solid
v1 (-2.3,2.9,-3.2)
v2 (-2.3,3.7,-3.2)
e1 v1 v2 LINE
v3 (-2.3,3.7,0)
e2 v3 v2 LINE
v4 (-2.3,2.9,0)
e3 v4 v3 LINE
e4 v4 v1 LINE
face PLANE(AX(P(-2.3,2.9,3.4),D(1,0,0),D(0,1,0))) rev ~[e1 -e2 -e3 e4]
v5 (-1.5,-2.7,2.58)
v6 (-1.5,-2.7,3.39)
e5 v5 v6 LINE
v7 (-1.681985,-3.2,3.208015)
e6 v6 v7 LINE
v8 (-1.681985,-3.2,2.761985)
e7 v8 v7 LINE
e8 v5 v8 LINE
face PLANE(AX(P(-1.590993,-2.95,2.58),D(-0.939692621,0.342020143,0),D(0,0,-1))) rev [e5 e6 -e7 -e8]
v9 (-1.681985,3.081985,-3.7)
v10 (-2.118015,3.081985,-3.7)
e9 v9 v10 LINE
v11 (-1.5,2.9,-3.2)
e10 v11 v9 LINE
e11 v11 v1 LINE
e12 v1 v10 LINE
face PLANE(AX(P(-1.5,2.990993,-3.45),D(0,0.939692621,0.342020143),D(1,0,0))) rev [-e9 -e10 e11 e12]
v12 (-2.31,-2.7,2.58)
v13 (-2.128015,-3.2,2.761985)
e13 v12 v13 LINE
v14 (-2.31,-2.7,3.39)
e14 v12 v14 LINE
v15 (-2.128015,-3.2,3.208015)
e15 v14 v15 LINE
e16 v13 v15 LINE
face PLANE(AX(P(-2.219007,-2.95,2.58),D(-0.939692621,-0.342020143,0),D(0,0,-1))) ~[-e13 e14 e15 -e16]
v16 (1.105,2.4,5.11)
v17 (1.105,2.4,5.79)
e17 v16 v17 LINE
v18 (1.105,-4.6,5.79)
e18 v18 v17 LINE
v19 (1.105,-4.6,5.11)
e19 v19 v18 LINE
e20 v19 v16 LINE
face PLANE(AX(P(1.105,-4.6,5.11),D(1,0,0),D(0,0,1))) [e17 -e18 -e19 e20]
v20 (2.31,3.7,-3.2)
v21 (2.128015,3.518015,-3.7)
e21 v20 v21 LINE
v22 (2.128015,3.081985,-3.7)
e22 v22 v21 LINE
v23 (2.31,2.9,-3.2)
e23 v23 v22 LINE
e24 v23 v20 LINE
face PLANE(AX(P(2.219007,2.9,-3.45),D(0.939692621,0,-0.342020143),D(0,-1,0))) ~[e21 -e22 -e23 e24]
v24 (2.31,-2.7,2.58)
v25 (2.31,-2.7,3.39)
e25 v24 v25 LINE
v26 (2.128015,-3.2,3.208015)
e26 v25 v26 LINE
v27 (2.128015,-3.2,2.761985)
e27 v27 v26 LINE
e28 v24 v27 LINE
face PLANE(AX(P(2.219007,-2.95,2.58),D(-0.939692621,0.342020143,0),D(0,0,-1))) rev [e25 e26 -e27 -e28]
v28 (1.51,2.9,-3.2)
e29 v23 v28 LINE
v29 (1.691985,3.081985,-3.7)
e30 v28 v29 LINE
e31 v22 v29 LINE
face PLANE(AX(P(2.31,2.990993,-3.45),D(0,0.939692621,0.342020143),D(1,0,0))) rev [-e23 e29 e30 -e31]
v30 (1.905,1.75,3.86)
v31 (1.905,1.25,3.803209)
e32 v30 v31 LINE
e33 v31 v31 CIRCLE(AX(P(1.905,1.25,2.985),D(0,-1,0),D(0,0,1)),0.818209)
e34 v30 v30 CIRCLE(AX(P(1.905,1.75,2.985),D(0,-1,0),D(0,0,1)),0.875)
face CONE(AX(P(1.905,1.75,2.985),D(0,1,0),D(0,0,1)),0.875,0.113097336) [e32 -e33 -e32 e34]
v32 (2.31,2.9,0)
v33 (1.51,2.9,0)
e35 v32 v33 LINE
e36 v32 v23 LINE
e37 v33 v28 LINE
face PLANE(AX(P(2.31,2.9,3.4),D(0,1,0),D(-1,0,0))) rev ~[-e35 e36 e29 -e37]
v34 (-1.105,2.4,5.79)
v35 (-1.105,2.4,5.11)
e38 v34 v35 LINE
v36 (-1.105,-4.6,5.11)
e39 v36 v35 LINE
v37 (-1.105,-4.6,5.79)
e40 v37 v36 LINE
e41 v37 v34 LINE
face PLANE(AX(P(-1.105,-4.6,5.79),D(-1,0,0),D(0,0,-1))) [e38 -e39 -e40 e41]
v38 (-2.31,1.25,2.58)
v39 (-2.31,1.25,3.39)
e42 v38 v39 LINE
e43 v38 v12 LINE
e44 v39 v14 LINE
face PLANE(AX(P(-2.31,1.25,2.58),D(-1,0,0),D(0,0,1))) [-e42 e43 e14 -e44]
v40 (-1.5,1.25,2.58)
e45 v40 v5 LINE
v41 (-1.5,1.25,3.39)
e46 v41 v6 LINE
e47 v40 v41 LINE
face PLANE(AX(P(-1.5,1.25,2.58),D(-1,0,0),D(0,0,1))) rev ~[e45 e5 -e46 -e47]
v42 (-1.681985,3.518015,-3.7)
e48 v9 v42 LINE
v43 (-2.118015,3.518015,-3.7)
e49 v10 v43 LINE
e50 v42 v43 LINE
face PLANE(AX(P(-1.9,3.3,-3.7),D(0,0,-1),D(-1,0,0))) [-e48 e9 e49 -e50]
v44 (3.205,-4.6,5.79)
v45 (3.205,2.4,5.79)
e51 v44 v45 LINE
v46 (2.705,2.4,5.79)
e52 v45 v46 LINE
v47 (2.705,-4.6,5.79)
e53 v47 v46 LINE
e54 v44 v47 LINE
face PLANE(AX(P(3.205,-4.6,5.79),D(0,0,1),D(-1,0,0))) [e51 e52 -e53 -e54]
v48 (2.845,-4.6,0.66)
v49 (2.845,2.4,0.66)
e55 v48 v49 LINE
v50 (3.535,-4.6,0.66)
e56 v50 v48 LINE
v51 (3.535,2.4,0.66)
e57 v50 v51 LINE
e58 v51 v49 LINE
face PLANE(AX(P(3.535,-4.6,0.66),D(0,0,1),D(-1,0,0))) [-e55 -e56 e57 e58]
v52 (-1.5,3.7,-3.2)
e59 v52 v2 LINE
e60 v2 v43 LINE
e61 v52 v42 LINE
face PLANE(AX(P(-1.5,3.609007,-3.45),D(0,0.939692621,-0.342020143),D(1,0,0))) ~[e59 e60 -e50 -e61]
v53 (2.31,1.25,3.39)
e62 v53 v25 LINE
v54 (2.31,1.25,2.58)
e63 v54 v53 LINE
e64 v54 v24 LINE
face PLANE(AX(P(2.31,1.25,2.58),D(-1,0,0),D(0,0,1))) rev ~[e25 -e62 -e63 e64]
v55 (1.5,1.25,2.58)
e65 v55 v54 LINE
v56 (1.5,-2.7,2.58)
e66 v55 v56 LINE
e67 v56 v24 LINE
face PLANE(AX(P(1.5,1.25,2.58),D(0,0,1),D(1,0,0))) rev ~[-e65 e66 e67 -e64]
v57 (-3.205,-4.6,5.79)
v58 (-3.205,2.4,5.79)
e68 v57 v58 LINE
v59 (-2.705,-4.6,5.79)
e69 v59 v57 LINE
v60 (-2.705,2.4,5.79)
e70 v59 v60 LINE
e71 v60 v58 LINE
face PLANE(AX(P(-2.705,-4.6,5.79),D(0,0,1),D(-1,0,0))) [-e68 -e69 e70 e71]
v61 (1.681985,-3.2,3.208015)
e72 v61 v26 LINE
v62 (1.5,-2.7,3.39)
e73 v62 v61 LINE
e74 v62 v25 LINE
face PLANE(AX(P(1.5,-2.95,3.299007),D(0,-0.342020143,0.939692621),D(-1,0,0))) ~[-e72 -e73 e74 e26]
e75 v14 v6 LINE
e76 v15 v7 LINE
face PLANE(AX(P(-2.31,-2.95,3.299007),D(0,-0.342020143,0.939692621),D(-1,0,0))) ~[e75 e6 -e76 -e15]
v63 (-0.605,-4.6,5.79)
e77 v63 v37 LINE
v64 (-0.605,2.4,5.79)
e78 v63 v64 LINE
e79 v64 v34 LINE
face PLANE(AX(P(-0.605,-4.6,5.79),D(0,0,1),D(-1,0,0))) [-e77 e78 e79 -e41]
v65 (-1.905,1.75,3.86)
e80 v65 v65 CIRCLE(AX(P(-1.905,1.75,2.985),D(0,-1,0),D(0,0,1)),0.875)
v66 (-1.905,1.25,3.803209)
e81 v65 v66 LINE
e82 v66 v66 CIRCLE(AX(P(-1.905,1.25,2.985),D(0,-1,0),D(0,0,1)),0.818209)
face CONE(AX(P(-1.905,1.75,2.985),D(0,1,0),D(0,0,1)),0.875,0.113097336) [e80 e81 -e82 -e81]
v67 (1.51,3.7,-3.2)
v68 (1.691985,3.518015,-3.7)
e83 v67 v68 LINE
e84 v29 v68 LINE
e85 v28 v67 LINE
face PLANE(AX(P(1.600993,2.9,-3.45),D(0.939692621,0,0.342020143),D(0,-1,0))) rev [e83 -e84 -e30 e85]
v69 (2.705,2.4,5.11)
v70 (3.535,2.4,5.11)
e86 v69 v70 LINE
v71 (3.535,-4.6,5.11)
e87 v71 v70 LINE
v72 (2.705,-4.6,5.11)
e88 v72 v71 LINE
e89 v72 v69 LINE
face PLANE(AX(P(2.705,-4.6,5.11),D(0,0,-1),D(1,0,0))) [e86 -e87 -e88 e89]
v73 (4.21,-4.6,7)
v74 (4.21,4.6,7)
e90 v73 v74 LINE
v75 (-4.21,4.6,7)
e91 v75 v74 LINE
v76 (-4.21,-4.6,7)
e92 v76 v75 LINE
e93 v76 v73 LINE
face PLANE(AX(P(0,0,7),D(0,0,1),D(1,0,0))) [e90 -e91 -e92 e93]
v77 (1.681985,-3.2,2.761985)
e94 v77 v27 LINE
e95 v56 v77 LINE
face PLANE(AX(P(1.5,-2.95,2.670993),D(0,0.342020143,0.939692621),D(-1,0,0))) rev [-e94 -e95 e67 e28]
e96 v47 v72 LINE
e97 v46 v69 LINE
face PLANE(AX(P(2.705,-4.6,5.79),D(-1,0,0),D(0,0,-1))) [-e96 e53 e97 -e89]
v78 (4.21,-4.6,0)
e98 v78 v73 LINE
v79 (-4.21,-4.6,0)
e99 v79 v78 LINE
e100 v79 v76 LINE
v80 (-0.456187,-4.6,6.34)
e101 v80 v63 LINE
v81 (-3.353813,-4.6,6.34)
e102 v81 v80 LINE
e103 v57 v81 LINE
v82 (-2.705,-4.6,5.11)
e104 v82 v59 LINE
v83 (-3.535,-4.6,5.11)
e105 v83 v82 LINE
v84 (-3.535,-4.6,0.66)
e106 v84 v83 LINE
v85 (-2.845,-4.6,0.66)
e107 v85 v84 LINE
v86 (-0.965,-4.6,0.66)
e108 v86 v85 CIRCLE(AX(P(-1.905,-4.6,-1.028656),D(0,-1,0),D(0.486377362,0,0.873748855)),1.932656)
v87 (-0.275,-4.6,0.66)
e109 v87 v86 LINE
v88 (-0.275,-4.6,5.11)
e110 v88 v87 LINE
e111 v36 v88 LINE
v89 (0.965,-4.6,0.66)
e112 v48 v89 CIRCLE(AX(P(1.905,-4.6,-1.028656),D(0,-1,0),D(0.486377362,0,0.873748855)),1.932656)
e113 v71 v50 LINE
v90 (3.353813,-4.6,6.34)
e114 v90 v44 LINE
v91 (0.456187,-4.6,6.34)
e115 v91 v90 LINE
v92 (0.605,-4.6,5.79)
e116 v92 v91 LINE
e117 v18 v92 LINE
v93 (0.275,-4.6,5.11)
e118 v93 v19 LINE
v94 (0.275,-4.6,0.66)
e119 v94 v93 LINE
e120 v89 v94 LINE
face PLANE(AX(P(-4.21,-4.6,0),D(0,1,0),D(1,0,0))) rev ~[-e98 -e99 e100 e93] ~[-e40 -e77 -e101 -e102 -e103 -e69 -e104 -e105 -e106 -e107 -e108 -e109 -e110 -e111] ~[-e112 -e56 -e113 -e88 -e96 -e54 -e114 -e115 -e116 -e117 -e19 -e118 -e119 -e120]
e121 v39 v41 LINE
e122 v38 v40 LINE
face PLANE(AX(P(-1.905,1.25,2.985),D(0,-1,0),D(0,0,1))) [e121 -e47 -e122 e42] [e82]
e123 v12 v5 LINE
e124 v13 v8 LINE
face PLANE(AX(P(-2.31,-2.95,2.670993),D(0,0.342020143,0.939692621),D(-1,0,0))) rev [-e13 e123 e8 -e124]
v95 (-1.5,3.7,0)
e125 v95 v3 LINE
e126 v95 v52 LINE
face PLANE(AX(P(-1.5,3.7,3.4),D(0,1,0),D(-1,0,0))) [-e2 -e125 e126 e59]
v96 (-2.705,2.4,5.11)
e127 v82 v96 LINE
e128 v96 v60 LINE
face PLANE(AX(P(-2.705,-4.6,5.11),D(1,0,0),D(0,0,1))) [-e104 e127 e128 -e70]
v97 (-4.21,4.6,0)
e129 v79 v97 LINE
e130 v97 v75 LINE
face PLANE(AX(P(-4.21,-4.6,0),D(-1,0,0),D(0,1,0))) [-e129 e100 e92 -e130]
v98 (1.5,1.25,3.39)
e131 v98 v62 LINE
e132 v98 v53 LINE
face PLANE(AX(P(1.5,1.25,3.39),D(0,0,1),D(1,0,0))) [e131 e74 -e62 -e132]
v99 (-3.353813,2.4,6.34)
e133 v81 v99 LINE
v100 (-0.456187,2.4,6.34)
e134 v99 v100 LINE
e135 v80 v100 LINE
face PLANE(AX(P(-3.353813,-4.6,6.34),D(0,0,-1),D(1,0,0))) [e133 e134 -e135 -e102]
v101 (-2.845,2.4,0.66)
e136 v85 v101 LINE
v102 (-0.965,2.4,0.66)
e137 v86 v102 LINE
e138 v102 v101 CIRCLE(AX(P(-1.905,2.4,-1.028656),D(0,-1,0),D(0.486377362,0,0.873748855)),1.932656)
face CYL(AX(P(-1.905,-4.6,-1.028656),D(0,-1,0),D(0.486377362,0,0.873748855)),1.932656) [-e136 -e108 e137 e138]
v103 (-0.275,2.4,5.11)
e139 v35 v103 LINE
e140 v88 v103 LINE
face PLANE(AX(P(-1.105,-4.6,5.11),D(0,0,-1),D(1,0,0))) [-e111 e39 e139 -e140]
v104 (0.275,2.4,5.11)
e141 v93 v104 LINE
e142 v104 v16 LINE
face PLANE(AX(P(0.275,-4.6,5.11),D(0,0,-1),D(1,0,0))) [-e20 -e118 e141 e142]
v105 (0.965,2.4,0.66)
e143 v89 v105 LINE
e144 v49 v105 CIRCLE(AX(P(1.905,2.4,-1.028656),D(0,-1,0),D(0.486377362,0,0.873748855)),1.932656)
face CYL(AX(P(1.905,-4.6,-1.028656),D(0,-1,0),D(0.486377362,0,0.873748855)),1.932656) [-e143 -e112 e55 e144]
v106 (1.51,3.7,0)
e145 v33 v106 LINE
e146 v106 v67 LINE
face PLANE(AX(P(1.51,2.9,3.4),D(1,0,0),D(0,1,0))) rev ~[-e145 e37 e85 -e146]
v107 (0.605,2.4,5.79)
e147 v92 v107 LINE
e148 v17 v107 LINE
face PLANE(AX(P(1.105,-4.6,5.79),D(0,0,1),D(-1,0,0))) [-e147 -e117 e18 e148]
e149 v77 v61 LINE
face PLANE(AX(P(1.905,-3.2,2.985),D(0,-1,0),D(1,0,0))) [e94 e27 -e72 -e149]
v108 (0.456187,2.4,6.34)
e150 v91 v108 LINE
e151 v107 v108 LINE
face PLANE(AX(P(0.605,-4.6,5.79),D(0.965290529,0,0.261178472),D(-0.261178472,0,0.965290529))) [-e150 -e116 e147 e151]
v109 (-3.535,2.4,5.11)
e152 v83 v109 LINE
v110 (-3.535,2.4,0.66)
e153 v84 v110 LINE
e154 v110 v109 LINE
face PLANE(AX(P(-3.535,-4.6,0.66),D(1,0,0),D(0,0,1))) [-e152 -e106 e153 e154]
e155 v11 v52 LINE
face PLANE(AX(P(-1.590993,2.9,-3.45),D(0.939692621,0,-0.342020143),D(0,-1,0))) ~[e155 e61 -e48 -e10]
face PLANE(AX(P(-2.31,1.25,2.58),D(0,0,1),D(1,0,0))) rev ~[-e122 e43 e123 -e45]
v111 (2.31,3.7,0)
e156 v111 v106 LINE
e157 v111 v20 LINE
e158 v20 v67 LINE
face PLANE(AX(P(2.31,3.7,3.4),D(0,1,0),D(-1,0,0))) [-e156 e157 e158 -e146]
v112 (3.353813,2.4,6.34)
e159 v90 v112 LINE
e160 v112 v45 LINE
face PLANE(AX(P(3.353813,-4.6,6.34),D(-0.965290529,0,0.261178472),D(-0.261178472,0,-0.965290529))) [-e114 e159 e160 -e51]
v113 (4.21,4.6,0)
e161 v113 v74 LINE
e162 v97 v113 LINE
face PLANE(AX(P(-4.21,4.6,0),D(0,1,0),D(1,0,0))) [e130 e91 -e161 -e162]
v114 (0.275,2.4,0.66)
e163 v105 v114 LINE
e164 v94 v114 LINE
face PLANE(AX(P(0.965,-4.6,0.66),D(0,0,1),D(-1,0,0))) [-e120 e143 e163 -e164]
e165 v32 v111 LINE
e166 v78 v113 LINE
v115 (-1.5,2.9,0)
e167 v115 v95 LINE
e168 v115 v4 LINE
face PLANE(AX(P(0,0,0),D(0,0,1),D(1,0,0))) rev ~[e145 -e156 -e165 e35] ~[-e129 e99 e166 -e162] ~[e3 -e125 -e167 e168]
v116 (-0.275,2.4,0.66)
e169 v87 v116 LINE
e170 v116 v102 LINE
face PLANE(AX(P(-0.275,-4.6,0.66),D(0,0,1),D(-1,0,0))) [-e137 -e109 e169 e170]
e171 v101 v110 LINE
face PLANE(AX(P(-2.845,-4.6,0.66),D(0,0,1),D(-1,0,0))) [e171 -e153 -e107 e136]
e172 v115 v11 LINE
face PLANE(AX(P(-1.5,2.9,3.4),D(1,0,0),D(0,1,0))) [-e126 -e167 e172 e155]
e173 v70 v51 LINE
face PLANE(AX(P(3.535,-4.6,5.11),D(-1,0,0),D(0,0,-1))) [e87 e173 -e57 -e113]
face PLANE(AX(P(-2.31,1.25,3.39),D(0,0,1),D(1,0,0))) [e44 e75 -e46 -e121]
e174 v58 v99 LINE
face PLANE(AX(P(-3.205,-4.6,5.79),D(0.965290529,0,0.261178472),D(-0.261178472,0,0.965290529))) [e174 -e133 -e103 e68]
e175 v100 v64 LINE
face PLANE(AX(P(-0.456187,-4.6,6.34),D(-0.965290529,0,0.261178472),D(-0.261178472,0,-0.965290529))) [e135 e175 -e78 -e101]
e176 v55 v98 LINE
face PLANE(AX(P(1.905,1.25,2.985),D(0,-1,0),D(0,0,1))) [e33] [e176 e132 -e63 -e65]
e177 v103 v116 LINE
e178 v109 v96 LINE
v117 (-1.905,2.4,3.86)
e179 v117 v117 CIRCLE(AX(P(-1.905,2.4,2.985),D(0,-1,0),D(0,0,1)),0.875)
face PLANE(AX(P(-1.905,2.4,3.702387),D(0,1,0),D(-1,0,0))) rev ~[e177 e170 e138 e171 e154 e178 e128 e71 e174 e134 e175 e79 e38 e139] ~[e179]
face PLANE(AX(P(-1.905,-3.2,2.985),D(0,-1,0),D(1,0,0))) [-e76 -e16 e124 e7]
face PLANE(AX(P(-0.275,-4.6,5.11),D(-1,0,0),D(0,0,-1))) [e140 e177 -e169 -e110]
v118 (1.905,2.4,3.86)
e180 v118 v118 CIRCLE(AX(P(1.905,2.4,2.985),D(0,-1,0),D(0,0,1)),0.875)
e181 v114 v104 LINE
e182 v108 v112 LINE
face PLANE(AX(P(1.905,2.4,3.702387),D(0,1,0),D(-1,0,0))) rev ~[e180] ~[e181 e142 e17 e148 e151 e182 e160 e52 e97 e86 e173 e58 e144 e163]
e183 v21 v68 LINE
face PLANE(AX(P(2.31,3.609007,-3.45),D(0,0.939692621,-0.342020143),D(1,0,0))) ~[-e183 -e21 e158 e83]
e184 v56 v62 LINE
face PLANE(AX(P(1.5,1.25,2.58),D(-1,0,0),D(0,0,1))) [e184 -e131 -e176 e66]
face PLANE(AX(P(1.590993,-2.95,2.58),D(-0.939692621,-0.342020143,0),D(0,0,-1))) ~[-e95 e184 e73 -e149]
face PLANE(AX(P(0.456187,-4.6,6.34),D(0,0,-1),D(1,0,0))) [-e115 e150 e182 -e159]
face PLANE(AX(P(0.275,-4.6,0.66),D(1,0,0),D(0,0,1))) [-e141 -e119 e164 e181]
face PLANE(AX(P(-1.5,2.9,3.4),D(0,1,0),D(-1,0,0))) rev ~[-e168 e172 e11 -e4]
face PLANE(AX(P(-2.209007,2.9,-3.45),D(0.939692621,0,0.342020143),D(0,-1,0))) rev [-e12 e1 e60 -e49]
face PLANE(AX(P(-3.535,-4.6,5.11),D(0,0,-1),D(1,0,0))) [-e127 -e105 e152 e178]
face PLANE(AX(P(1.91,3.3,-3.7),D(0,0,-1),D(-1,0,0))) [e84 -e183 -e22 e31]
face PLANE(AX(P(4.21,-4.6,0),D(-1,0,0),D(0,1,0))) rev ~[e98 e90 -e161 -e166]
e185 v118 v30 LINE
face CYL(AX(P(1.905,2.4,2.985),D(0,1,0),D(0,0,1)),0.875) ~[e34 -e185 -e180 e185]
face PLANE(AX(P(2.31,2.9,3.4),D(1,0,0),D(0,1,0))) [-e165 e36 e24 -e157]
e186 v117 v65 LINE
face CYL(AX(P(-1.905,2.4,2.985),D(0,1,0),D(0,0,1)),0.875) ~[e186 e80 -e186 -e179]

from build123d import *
from OCP.BRepFilletAPI import BRepFilletAPI_MakeChamfer

# Parameters (mm, degrees)
SKETCH1_W                    = 8.42
SKETCH1_H                    = 9.2
BOSS_EXTRUDE1_DEPTH          = 7
CUT_EXTRUDE1_DEPTH           = 7
LPATTERN1_COUNT              = 2
LPATTERN1_PITCH              = 3.81
SKETCH3_R                    = 0.875
BOSS_EXTRUDE2_DEPTH          = 1.15
CHAMFER1_SIZE                = 0.5
CHAMFER1_SIZE2               = 0.056791013
SKETCH4_W                    = 0.81
SKETCH4_H                    = 0.81
BOSS_EXTRUDE3_DEPTH          = 4.45
CHAMFER2_SIZE                = 0.5
CHAMFER2_SIZE2               = 0.181985117
LPATTERN3_COUNT              = 2
LPATTERN3_PITCH              = 3.81
CHAMFER1_OF_LPATTERN3_SIZE2  = 0.056791013
CHAMFER1_OF_LPATTERN3_SIZE   = 0.5
LPATTERN4_COUNT              = 2
LPATTERN4_PITCH              = 3.81
CHAMFER2_OF_LPATTERN4_SIZE   = 0.5
CHAMFER2_OF_LPATTERN4_SIZE2  = 0.181985117
BOSS_EXTRUDE4_START          = -3.4
SKETCH5_W                    = 0.8
SKETCH5_H                    = 0.8
BOSS_EXTRUDE4_DEPTH          = 7.1
CHAMFER3_SIZE                = 0.5
CHAMFER3_SIZE2               = 0.181985117
LPATTERN12_COUNT             = 2
LPATTERN12_PITCH             = 3.81
CHAMFER3_OF_LPATTERN12_SIZE  = 0.5
CHAMFER3_OF_LPATTERN12_SIZE2 = 0.181985117


with BuildPart() as part:
    # Sketch1 → Boss-Extrude1 (new body)
    with BuildSketch(Plane.XY):
        Rectangle(SKETCH1_W, SKETCH1_H)
    extrude(amount=BOSS_EXTRUDE1_DEPTH)

    # Sketch2 → Cut-Extrude1 (cut)
    with BuildSketch(Plane.XZ.offset(4.6)):
        with BuildLine():
            Line((-3.535, 5.11), (-2.705, 5.11))
            Line((-2.705, 5.11), (-2.705, 5.79))
            Line((-2.705, 5.79), (-3.205, 5.79))
            Line((-3.205, 5.79), (-3.353813394, 6.34))
            Line((-3.353813394, 6.34), (-0.456186606, 6.34))
            Line((-0.456186606, 6.34), (-0.605, 5.79))
            Line((-0.605, 5.79), (-1.105, 5.79))
            Line((-1.105, 5.79), (-1.105, 5.11))
            Line((-1.105, 5.11), (-0.275, 5.11))
            Line((-0.275, 5.11), (-0.275, 0.66))
            Line((-0.275, 0.66), (-0.965, 0.66))
            ThreePointArc((-0.965, 0.66), (-1.905, 0.904), (-2.845, 0.66))
            Line((-2.845, 0.66), (-3.535, 0.66))
            Line((-3.535, 0.66), (-3.535, 5.11))
        make_face()
    cut_extrude1 = extrude(amount=-CUT_EXTRUDE1_DEPTH, mode=Mode.SUBTRACT)

    # LPattern1: Cut-Extrude1 ×2
    with Locations(*[(i * LPATTERN1_PITCH, 0, 0) for i in range(1, LPATTERN1_COUNT)]):
        add(cut_extrude1, mode=Mode.SUBTRACT)

    # Sketch3 → Boss-Extrude2 (add)
    with BuildSketch(Plane.XZ.offset(-2.4)):
        with Locations(Location((-1.905, 2.985, 0), (0, 0, 90))):
            Circle(SKETCH3_R)
    boss_extrude2 = extrude(amount=BOSS_EXTRUDE2_DEPTH)

    # Chamfer1
    chamfer1_edges = [part.edges().sort_by_distance(p)[0] for p in [
        (-1.905, 1.25, 2.11),
    ]]
    chamfer1_side = [part.faces().sort_by_distance(p)[0] for p in [
        (-1.905, 1.825, 2.11),
    ]]
    chamfer(chamfer1_edges, length=CHAMFER1_SIZE, length2=CHAMFER1_SIZE2, reference=chamfer1_side[0])

    # Sketch4 → Boss-Extrude3 (add)
    with BuildSketch(Plane.XZ.offset(-1.25)):
        with Locations((-1.905, 2.985)):
            Rectangle(SKETCH4_W, SKETCH4_H)
    boss_extrude3 = extrude(amount=BOSS_EXTRUDE3_DEPTH)

    # Chamfer2: one chamfer whose edges measure the first distance from different faces: ONE call of the kernel's chamfer builder (chamfer() names one face for all edges)
    chamfer2_edges_1 = [part.edges().sort_by_distance(p)[0] for p in [
        (-1.5, -3.2, 2.985),
    ]]
    chamfer2_side_1 = [part.faces().sort_by_distance(p)[0] for p in [
        (-1.5, -0.975, 2.985),
    ]]
    chamfer2_edges_2 = [part.edges().sort_by_distance(p)[0] for p in [
        (-1.905, -3.2, 3.39),
    ]]
    chamfer2_side_2 = [part.faces().sort_by_distance(p)[0] for p in [
        (-1.905, -0.975, 3.39),
    ]]
    chamfer2_edges_3 = [part.edges().sort_by_distance(p)[0] for p in [
        (-2.31, -3.2, 2.985),
    ]]
    chamfer2_side_3 = [part.faces().sort_by_distance(p)[0] for p in [
        (-2.31, -0.975, 2.985),
    ]]
    chamfer2_edges_4 = [part.edges().sort_by_distance(p)[0] for p in [
        (-1.905, -3.2, 2.58),
    ]]
    chamfer2_side_4 = [part.faces().sort_by_distance(p)[0] for p in [
        (-1.905, -0.975, 2.58),
    ]]
    chamfer2 = BRepFilletAPI_MakeChamfer(part.part.solid().wrapped)
    for e in chamfer2_edges_1:
        chamfer2.Add(CHAMFER2_SIZE, CHAMFER2_SIZE2, e.wrapped, chamfer2_side_1[0].wrapped)  # the first distance lies on this face
    for e in chamfer2_edges_2:
        chamfer2.Add(CHAMFER2_SIZE, CHAMFER2_SIZE2, e.wrapped, chamfer2_side_2[0].wrapped)  # the first distance lies on this face
    for e in chamfer2_edges_3:
        chamfer2.Add(CHAMFER2_SIZE, CHAMFER2_SIZE2, e.wrapped, chamfer2_side_3[0].wrapped)  # the first distance lies on this face
    for e in chamfer2_edges_4:
        chamfer2.Add(CHAMFER2_SIZE, CHAMFER2_SIZE2, e.wrapped, chamfer2_side_4[0].wrapped)  # the first distance lies on this face
    add(Compound.cast(chamfer2.Shape()), mode=Mode.REPLACE)

    # LPattern3: Boss-Extrude2 ×2
    with Locations(*[(i * LPATTERN3_PITCH, 0, 0) for i in range(1, LPATTERN3_COUNT)]):
        add(boss_extrude2)

    # Chamfer1 of LPattern3
    chamfer1_of_lpattern3_edges = [part.edges().sort_by_distance(p)[0] for p in [
        (1.905, 1.25, 2.11),
    ]]
    chamfer(chamfer1_of_lpattern3_edges, length=CHAMFER1_OF_LPATTERN3_SIZE, length2=CHAMFER1_OF_LPATTERN3_SIZE2)

    # LPattern4: Boss-Extrude3 ×2
    with Locations(*[(i * LPATTERN4_PITCH, 0, 0) for i in range(1, LPATTERN4_COUNT)]):
        add(boss_extrude3)

    # Chamfer2 of LPattern4: one chamfer whose edges measure the first distance from different faces: ONE call of the kernel's chamfer builder (chamfer() names one face for all edges)
    chamfer2_of_lpattern4_edges_1 = [part.edges().sort_by_distance(p)[0] for p in [
        (2.31, -3.2, 2.985),
    ]]
    chamfer2_of_lpattern4_side_1 = [part.faces().sort_by_distance(p)[0] for p in [
        (2.31, -0.975, 2.985),
    ]]
    chamfer2_of_lpattern4_edges_2 = [part.edges().sort_by_distance(p)[0] for p in [
        (1.905, -3.2, 3.39),
    ]]
    chamfer2_of_lpattern4_side_2 = [part.faces().sort_by_distance(p)[0] for p in [
        (1.905, -0.975, 3.39),
    ]]
    chamfer2_of_lpattern4_edges_3 = [part.edges().sort_by_distance(p)[0] for p in [
        (1.5, -3.2, 2.985),
    ]]
    chamfer2_of_lpattern4_side_3 = [part.faces().sort_by_distance(p)[0] for p in [
        (1.5, -0.975, 2.985),
    ]]
    chamfer2_of_lpattern4_edges_4 = [part.edges().sort_by_distance(p)[0] for p in [
        (1.905, -3.2, 2.58),
    ]]
    chamfer2_of_lpattern4_side_4 = [part.faces().sort_by_distance(p)[0] for p in [
        (1.905, -0.975, 2.58),
    ]]
    chamfer2_of_lpattern4 = BRepFilletAPI_MakeChamfer(part.part.solid().wrapped)
    for e in chamfer2_of_lpattern4_edges_1:
        chamfer2_of_lpattern4.Add(CHAMFER2_OF_LPATTERN4_SIZE, CHAMFER2_OF_LPATTERN4_SIZE2, e.wrapped, chamfer2_of_lpattern4_side_1[0].wrapped)  # the first distance lies on this face
    for e in chamfer2_of_lpattern4_edges_2:
        chamfer2_of_lpattern4.Add(CHAMFER2_OF_LPATTERN4_SIZE, CHAMFER2_OF_LPATTERN4_SIZE2, e.wrapped, chamfer2_of_lpattern4_side_2[0].wrapped)  # the first distance lies on this face
    for e in chamfer2_of_lpattern4_edges_3:
        chamfer2_of_lpattern4.Add(CHAMFER2_OF_LPATTERN4_SIZE, CHAMFER2_OF_LPATTERN4_SIZE2, e.wrapped, chamfer2_of_lpattern4_side_3[0].wrapped)  # the first distance lies on this face
    for e in chamfer2_of_lpattern4_edges_4:
        chamfer2_of_lpattern4.Add(CHAMFER2_OF_LPATTERN4_SIZE, CHAMFER2_OF_LPATTERN4_SIZE2, e.wrapped, chamfer2_of_lpattern4_side_4[0].wrapped)  # the first distance lies on this face
    add(Compound.cast(chamfer2_of_lpattern4.Shape()), mode=Mode.REPLACE)

    # Sketch5 → Boss-Extrude4 (add)
    with BuildSketch(Plane(origin=(0, 0, 0), x_dir=(-1, 0, 0), z_dir=(0, 0, -1)).offset(BOSS_EXTRUDE4_START)):
        with Locations((1.9, 3.3)):
            Rectangle(SKETCH5_W, SKETCH5_H)
    boss_extrude4 = extrude(amount=BOSS_EXTRUDE4_DEPTH)

    # Chamfer3: one chamfer whose edges measure the first distance from different faces: ONE call of the kernel's chamfer builder (chamfer() names one face for all edges)
    chamfer3_edges_1 = [part.edges().sort_by_distance(p)[0] for p in [
        (-1.9, 2.9, -3.7),
    ]]
    chamfer3_side_1 = [part.faces().sort_by_distance(p)[0] for p in [
        (-1.9, 2.9, -1.85),
    ]]
    chamfer3_edges_2 = [part.edges().sort_by_distance(p)[0] for p in [
        (-1.5, 3.3, -3.7),
    ]]
    chamfer3_side_2 = [part.faces().sort_by_distance(p)[0] for p in [
        (-1.5, 3.3, -1.85),
    ]]
    chamfer3_edges_3 = [part.edges().sort_by_distance(p)[0] for p in [
        (-2.3, 3.3, -3.7),
    ]]
    chamfer3_side_3 = [part.faces().sort_by_distance(p)[0] for p in [
        (-2.3, 3.3, -1.85),
    ]]
    chamfer3_edges_4 = [part.edges().sort_by_distance(p)[0] for p in [
        (-1.9, 3.7, -3.7),
    ]]
    chamfer3_side_4 = [part.faces().sort_by_distance(p)[0] for p in [
        (-1.9, 3.7, -1.85),
    ]]
    chamfer3 = BRepFilletAPI_MakeChamfer(part.part.solid().wrapped)
    for e in chamfer3_edges_1:
        chamfer3.Add(CHAMFER3_SIZE, CHAMFER3_SIZE2, e.wrapped, chamfer3_side_1[0].wrapped)  # the first distance lies on this face
    for e in chamfer3_edges_2:
        chamfer3.Add(CHAMFER3_SIZE, CHAMFER3_SIZE2, e.wrapped, chamfer3_side_2[0].wrapped)  # the first distance lies on this face
    for e in chamfer3_edges_3:
        chamfer3.Add(CHAMFER3_SIZE, CHAMFER3_SIZE2, e.wrapped, chamfer3_side_3[0].wrapped)  # the first distance lies on this face
    for e in chamfer3_edges_4:
        chamfer3.Add(CHAMFER3_SIZE, CHAMFER3_SIZE2, e.wrapped, chamfer3_side_4[0].wrapped)  # the first distance lies on this face
    add(Compound.cast(chamfer3.Shape()), mode=Mode.REPLACE)

    # LPattern12: Boss-Extrude4 ×2
    with Locations(*[(i * LPATTERN12_PITCH, 0, 0) for i in range(1, LPATTERN12_COUNT)]):
        add(boss_extrude4)

    # Chamfer3 of LPattern12: one chamfer whose edges measure the first distance from different faces: ONE call of the kernel's chamfer builder (chamfer() names one face for all edges)
    chamfer3_of_lpattern12_edges_1 = [part.edges().sort_by_distance(p)[0] for p in [
        (1.91, 2.9, -3.7),
    ]]
    chamfer3_of_lpattern12_side_1 = [part.faces().sort_by_distance(p)[0] for p in [
        (1.91, 2.9, -1.85),
    ]]
    chamfer3_of_lpattern12_edges_2 = [part.edges().sort_by_distance(p)[0] for p in [
        (2.31, 3.3, -3.7),
    ]]
    chamfer3_of_lpattern12_side_2 = [part.faces().sort_by_distance(p)[0] for p in [
        (2.31, 3.3, -1.85),
    ]]
    chamfer3_of_lpattern12_edges_3 = [part.edges().sort_by_distance(p)[0] for p in [
        (1.51, 3.3, -3.7),
    ]]
    chamfer3_of_lpattern12_side_3 = [part.faces().sort_by_distance(p)[0] for p in [
        (1.51, 3.3, -1.85),
    ]]
    chamfer3_of_lpattern12_edges_4 = [part.edges().sort_by_distance(p)[0] for p in [
        (1.91, 3.7, -3.7),
    ]]
    chamfer3_of_lpattern12_side_4 = [part.faces().sort_by_distance(p)[0] for p in [
        (1.91, 3.7, -1.85),
    ]]
    chamfer3_of_lpattern12 = BRepFilletAPI_MakeChamfer(part.part.solid().wrapped)
    for e in chamfer3_of_lpattern12_edges_1:
        chamfer3_of_lpattern12.Add(CHAMFER3_OF_LPATTERN12_SIZE, CHAMFER3_OF_LPATTERN12_SIZE2, e.wrapped, chamfer3_of_lpattern12_side_1[0].wrapped)  # the first distance lies on this face
    for e in chamfer3_of_lpattern12_edges_2:
        chamfer3_of_lpattern12.Add(CHAMFER3_OF_LPATTERN12_SIZE, CHAMFER3_OF_LPATTERN12_SIZE2, e.wrapped, chamfer3_of_lpattern12_side_2[0].wrapped)  # the first distance lies on this face
    for e in chamfer3_of_lpattern12_edges_3:
        chamfer3_of_lpattern12.Add(CHAMFER3_OF_LPATTERN12_SIZE, CHAMFER3_OF_LPATTERN12_SIZE2, e.wrapped, chamfer3_of_lpattern12_side_3[0].wrapped)  # the first distance lies on this face
    for e in chamfer3_of_lpattern12_edges_4:
        chamfer3_of_lpattern12.Add(CHAMFER3_OF_LPATTERN12_SIZE, CHAMFER3_OF_LPATTERN12_SIZE2, e.wrapped, chamfer3_of_lpattern12_side_4[0].wrapped)  # the first distance lies on this face
    add(Compound.cast(chamfer3_of_lpattern12.Shape()), mode=Mode.REPLACE)


solid = part.part
